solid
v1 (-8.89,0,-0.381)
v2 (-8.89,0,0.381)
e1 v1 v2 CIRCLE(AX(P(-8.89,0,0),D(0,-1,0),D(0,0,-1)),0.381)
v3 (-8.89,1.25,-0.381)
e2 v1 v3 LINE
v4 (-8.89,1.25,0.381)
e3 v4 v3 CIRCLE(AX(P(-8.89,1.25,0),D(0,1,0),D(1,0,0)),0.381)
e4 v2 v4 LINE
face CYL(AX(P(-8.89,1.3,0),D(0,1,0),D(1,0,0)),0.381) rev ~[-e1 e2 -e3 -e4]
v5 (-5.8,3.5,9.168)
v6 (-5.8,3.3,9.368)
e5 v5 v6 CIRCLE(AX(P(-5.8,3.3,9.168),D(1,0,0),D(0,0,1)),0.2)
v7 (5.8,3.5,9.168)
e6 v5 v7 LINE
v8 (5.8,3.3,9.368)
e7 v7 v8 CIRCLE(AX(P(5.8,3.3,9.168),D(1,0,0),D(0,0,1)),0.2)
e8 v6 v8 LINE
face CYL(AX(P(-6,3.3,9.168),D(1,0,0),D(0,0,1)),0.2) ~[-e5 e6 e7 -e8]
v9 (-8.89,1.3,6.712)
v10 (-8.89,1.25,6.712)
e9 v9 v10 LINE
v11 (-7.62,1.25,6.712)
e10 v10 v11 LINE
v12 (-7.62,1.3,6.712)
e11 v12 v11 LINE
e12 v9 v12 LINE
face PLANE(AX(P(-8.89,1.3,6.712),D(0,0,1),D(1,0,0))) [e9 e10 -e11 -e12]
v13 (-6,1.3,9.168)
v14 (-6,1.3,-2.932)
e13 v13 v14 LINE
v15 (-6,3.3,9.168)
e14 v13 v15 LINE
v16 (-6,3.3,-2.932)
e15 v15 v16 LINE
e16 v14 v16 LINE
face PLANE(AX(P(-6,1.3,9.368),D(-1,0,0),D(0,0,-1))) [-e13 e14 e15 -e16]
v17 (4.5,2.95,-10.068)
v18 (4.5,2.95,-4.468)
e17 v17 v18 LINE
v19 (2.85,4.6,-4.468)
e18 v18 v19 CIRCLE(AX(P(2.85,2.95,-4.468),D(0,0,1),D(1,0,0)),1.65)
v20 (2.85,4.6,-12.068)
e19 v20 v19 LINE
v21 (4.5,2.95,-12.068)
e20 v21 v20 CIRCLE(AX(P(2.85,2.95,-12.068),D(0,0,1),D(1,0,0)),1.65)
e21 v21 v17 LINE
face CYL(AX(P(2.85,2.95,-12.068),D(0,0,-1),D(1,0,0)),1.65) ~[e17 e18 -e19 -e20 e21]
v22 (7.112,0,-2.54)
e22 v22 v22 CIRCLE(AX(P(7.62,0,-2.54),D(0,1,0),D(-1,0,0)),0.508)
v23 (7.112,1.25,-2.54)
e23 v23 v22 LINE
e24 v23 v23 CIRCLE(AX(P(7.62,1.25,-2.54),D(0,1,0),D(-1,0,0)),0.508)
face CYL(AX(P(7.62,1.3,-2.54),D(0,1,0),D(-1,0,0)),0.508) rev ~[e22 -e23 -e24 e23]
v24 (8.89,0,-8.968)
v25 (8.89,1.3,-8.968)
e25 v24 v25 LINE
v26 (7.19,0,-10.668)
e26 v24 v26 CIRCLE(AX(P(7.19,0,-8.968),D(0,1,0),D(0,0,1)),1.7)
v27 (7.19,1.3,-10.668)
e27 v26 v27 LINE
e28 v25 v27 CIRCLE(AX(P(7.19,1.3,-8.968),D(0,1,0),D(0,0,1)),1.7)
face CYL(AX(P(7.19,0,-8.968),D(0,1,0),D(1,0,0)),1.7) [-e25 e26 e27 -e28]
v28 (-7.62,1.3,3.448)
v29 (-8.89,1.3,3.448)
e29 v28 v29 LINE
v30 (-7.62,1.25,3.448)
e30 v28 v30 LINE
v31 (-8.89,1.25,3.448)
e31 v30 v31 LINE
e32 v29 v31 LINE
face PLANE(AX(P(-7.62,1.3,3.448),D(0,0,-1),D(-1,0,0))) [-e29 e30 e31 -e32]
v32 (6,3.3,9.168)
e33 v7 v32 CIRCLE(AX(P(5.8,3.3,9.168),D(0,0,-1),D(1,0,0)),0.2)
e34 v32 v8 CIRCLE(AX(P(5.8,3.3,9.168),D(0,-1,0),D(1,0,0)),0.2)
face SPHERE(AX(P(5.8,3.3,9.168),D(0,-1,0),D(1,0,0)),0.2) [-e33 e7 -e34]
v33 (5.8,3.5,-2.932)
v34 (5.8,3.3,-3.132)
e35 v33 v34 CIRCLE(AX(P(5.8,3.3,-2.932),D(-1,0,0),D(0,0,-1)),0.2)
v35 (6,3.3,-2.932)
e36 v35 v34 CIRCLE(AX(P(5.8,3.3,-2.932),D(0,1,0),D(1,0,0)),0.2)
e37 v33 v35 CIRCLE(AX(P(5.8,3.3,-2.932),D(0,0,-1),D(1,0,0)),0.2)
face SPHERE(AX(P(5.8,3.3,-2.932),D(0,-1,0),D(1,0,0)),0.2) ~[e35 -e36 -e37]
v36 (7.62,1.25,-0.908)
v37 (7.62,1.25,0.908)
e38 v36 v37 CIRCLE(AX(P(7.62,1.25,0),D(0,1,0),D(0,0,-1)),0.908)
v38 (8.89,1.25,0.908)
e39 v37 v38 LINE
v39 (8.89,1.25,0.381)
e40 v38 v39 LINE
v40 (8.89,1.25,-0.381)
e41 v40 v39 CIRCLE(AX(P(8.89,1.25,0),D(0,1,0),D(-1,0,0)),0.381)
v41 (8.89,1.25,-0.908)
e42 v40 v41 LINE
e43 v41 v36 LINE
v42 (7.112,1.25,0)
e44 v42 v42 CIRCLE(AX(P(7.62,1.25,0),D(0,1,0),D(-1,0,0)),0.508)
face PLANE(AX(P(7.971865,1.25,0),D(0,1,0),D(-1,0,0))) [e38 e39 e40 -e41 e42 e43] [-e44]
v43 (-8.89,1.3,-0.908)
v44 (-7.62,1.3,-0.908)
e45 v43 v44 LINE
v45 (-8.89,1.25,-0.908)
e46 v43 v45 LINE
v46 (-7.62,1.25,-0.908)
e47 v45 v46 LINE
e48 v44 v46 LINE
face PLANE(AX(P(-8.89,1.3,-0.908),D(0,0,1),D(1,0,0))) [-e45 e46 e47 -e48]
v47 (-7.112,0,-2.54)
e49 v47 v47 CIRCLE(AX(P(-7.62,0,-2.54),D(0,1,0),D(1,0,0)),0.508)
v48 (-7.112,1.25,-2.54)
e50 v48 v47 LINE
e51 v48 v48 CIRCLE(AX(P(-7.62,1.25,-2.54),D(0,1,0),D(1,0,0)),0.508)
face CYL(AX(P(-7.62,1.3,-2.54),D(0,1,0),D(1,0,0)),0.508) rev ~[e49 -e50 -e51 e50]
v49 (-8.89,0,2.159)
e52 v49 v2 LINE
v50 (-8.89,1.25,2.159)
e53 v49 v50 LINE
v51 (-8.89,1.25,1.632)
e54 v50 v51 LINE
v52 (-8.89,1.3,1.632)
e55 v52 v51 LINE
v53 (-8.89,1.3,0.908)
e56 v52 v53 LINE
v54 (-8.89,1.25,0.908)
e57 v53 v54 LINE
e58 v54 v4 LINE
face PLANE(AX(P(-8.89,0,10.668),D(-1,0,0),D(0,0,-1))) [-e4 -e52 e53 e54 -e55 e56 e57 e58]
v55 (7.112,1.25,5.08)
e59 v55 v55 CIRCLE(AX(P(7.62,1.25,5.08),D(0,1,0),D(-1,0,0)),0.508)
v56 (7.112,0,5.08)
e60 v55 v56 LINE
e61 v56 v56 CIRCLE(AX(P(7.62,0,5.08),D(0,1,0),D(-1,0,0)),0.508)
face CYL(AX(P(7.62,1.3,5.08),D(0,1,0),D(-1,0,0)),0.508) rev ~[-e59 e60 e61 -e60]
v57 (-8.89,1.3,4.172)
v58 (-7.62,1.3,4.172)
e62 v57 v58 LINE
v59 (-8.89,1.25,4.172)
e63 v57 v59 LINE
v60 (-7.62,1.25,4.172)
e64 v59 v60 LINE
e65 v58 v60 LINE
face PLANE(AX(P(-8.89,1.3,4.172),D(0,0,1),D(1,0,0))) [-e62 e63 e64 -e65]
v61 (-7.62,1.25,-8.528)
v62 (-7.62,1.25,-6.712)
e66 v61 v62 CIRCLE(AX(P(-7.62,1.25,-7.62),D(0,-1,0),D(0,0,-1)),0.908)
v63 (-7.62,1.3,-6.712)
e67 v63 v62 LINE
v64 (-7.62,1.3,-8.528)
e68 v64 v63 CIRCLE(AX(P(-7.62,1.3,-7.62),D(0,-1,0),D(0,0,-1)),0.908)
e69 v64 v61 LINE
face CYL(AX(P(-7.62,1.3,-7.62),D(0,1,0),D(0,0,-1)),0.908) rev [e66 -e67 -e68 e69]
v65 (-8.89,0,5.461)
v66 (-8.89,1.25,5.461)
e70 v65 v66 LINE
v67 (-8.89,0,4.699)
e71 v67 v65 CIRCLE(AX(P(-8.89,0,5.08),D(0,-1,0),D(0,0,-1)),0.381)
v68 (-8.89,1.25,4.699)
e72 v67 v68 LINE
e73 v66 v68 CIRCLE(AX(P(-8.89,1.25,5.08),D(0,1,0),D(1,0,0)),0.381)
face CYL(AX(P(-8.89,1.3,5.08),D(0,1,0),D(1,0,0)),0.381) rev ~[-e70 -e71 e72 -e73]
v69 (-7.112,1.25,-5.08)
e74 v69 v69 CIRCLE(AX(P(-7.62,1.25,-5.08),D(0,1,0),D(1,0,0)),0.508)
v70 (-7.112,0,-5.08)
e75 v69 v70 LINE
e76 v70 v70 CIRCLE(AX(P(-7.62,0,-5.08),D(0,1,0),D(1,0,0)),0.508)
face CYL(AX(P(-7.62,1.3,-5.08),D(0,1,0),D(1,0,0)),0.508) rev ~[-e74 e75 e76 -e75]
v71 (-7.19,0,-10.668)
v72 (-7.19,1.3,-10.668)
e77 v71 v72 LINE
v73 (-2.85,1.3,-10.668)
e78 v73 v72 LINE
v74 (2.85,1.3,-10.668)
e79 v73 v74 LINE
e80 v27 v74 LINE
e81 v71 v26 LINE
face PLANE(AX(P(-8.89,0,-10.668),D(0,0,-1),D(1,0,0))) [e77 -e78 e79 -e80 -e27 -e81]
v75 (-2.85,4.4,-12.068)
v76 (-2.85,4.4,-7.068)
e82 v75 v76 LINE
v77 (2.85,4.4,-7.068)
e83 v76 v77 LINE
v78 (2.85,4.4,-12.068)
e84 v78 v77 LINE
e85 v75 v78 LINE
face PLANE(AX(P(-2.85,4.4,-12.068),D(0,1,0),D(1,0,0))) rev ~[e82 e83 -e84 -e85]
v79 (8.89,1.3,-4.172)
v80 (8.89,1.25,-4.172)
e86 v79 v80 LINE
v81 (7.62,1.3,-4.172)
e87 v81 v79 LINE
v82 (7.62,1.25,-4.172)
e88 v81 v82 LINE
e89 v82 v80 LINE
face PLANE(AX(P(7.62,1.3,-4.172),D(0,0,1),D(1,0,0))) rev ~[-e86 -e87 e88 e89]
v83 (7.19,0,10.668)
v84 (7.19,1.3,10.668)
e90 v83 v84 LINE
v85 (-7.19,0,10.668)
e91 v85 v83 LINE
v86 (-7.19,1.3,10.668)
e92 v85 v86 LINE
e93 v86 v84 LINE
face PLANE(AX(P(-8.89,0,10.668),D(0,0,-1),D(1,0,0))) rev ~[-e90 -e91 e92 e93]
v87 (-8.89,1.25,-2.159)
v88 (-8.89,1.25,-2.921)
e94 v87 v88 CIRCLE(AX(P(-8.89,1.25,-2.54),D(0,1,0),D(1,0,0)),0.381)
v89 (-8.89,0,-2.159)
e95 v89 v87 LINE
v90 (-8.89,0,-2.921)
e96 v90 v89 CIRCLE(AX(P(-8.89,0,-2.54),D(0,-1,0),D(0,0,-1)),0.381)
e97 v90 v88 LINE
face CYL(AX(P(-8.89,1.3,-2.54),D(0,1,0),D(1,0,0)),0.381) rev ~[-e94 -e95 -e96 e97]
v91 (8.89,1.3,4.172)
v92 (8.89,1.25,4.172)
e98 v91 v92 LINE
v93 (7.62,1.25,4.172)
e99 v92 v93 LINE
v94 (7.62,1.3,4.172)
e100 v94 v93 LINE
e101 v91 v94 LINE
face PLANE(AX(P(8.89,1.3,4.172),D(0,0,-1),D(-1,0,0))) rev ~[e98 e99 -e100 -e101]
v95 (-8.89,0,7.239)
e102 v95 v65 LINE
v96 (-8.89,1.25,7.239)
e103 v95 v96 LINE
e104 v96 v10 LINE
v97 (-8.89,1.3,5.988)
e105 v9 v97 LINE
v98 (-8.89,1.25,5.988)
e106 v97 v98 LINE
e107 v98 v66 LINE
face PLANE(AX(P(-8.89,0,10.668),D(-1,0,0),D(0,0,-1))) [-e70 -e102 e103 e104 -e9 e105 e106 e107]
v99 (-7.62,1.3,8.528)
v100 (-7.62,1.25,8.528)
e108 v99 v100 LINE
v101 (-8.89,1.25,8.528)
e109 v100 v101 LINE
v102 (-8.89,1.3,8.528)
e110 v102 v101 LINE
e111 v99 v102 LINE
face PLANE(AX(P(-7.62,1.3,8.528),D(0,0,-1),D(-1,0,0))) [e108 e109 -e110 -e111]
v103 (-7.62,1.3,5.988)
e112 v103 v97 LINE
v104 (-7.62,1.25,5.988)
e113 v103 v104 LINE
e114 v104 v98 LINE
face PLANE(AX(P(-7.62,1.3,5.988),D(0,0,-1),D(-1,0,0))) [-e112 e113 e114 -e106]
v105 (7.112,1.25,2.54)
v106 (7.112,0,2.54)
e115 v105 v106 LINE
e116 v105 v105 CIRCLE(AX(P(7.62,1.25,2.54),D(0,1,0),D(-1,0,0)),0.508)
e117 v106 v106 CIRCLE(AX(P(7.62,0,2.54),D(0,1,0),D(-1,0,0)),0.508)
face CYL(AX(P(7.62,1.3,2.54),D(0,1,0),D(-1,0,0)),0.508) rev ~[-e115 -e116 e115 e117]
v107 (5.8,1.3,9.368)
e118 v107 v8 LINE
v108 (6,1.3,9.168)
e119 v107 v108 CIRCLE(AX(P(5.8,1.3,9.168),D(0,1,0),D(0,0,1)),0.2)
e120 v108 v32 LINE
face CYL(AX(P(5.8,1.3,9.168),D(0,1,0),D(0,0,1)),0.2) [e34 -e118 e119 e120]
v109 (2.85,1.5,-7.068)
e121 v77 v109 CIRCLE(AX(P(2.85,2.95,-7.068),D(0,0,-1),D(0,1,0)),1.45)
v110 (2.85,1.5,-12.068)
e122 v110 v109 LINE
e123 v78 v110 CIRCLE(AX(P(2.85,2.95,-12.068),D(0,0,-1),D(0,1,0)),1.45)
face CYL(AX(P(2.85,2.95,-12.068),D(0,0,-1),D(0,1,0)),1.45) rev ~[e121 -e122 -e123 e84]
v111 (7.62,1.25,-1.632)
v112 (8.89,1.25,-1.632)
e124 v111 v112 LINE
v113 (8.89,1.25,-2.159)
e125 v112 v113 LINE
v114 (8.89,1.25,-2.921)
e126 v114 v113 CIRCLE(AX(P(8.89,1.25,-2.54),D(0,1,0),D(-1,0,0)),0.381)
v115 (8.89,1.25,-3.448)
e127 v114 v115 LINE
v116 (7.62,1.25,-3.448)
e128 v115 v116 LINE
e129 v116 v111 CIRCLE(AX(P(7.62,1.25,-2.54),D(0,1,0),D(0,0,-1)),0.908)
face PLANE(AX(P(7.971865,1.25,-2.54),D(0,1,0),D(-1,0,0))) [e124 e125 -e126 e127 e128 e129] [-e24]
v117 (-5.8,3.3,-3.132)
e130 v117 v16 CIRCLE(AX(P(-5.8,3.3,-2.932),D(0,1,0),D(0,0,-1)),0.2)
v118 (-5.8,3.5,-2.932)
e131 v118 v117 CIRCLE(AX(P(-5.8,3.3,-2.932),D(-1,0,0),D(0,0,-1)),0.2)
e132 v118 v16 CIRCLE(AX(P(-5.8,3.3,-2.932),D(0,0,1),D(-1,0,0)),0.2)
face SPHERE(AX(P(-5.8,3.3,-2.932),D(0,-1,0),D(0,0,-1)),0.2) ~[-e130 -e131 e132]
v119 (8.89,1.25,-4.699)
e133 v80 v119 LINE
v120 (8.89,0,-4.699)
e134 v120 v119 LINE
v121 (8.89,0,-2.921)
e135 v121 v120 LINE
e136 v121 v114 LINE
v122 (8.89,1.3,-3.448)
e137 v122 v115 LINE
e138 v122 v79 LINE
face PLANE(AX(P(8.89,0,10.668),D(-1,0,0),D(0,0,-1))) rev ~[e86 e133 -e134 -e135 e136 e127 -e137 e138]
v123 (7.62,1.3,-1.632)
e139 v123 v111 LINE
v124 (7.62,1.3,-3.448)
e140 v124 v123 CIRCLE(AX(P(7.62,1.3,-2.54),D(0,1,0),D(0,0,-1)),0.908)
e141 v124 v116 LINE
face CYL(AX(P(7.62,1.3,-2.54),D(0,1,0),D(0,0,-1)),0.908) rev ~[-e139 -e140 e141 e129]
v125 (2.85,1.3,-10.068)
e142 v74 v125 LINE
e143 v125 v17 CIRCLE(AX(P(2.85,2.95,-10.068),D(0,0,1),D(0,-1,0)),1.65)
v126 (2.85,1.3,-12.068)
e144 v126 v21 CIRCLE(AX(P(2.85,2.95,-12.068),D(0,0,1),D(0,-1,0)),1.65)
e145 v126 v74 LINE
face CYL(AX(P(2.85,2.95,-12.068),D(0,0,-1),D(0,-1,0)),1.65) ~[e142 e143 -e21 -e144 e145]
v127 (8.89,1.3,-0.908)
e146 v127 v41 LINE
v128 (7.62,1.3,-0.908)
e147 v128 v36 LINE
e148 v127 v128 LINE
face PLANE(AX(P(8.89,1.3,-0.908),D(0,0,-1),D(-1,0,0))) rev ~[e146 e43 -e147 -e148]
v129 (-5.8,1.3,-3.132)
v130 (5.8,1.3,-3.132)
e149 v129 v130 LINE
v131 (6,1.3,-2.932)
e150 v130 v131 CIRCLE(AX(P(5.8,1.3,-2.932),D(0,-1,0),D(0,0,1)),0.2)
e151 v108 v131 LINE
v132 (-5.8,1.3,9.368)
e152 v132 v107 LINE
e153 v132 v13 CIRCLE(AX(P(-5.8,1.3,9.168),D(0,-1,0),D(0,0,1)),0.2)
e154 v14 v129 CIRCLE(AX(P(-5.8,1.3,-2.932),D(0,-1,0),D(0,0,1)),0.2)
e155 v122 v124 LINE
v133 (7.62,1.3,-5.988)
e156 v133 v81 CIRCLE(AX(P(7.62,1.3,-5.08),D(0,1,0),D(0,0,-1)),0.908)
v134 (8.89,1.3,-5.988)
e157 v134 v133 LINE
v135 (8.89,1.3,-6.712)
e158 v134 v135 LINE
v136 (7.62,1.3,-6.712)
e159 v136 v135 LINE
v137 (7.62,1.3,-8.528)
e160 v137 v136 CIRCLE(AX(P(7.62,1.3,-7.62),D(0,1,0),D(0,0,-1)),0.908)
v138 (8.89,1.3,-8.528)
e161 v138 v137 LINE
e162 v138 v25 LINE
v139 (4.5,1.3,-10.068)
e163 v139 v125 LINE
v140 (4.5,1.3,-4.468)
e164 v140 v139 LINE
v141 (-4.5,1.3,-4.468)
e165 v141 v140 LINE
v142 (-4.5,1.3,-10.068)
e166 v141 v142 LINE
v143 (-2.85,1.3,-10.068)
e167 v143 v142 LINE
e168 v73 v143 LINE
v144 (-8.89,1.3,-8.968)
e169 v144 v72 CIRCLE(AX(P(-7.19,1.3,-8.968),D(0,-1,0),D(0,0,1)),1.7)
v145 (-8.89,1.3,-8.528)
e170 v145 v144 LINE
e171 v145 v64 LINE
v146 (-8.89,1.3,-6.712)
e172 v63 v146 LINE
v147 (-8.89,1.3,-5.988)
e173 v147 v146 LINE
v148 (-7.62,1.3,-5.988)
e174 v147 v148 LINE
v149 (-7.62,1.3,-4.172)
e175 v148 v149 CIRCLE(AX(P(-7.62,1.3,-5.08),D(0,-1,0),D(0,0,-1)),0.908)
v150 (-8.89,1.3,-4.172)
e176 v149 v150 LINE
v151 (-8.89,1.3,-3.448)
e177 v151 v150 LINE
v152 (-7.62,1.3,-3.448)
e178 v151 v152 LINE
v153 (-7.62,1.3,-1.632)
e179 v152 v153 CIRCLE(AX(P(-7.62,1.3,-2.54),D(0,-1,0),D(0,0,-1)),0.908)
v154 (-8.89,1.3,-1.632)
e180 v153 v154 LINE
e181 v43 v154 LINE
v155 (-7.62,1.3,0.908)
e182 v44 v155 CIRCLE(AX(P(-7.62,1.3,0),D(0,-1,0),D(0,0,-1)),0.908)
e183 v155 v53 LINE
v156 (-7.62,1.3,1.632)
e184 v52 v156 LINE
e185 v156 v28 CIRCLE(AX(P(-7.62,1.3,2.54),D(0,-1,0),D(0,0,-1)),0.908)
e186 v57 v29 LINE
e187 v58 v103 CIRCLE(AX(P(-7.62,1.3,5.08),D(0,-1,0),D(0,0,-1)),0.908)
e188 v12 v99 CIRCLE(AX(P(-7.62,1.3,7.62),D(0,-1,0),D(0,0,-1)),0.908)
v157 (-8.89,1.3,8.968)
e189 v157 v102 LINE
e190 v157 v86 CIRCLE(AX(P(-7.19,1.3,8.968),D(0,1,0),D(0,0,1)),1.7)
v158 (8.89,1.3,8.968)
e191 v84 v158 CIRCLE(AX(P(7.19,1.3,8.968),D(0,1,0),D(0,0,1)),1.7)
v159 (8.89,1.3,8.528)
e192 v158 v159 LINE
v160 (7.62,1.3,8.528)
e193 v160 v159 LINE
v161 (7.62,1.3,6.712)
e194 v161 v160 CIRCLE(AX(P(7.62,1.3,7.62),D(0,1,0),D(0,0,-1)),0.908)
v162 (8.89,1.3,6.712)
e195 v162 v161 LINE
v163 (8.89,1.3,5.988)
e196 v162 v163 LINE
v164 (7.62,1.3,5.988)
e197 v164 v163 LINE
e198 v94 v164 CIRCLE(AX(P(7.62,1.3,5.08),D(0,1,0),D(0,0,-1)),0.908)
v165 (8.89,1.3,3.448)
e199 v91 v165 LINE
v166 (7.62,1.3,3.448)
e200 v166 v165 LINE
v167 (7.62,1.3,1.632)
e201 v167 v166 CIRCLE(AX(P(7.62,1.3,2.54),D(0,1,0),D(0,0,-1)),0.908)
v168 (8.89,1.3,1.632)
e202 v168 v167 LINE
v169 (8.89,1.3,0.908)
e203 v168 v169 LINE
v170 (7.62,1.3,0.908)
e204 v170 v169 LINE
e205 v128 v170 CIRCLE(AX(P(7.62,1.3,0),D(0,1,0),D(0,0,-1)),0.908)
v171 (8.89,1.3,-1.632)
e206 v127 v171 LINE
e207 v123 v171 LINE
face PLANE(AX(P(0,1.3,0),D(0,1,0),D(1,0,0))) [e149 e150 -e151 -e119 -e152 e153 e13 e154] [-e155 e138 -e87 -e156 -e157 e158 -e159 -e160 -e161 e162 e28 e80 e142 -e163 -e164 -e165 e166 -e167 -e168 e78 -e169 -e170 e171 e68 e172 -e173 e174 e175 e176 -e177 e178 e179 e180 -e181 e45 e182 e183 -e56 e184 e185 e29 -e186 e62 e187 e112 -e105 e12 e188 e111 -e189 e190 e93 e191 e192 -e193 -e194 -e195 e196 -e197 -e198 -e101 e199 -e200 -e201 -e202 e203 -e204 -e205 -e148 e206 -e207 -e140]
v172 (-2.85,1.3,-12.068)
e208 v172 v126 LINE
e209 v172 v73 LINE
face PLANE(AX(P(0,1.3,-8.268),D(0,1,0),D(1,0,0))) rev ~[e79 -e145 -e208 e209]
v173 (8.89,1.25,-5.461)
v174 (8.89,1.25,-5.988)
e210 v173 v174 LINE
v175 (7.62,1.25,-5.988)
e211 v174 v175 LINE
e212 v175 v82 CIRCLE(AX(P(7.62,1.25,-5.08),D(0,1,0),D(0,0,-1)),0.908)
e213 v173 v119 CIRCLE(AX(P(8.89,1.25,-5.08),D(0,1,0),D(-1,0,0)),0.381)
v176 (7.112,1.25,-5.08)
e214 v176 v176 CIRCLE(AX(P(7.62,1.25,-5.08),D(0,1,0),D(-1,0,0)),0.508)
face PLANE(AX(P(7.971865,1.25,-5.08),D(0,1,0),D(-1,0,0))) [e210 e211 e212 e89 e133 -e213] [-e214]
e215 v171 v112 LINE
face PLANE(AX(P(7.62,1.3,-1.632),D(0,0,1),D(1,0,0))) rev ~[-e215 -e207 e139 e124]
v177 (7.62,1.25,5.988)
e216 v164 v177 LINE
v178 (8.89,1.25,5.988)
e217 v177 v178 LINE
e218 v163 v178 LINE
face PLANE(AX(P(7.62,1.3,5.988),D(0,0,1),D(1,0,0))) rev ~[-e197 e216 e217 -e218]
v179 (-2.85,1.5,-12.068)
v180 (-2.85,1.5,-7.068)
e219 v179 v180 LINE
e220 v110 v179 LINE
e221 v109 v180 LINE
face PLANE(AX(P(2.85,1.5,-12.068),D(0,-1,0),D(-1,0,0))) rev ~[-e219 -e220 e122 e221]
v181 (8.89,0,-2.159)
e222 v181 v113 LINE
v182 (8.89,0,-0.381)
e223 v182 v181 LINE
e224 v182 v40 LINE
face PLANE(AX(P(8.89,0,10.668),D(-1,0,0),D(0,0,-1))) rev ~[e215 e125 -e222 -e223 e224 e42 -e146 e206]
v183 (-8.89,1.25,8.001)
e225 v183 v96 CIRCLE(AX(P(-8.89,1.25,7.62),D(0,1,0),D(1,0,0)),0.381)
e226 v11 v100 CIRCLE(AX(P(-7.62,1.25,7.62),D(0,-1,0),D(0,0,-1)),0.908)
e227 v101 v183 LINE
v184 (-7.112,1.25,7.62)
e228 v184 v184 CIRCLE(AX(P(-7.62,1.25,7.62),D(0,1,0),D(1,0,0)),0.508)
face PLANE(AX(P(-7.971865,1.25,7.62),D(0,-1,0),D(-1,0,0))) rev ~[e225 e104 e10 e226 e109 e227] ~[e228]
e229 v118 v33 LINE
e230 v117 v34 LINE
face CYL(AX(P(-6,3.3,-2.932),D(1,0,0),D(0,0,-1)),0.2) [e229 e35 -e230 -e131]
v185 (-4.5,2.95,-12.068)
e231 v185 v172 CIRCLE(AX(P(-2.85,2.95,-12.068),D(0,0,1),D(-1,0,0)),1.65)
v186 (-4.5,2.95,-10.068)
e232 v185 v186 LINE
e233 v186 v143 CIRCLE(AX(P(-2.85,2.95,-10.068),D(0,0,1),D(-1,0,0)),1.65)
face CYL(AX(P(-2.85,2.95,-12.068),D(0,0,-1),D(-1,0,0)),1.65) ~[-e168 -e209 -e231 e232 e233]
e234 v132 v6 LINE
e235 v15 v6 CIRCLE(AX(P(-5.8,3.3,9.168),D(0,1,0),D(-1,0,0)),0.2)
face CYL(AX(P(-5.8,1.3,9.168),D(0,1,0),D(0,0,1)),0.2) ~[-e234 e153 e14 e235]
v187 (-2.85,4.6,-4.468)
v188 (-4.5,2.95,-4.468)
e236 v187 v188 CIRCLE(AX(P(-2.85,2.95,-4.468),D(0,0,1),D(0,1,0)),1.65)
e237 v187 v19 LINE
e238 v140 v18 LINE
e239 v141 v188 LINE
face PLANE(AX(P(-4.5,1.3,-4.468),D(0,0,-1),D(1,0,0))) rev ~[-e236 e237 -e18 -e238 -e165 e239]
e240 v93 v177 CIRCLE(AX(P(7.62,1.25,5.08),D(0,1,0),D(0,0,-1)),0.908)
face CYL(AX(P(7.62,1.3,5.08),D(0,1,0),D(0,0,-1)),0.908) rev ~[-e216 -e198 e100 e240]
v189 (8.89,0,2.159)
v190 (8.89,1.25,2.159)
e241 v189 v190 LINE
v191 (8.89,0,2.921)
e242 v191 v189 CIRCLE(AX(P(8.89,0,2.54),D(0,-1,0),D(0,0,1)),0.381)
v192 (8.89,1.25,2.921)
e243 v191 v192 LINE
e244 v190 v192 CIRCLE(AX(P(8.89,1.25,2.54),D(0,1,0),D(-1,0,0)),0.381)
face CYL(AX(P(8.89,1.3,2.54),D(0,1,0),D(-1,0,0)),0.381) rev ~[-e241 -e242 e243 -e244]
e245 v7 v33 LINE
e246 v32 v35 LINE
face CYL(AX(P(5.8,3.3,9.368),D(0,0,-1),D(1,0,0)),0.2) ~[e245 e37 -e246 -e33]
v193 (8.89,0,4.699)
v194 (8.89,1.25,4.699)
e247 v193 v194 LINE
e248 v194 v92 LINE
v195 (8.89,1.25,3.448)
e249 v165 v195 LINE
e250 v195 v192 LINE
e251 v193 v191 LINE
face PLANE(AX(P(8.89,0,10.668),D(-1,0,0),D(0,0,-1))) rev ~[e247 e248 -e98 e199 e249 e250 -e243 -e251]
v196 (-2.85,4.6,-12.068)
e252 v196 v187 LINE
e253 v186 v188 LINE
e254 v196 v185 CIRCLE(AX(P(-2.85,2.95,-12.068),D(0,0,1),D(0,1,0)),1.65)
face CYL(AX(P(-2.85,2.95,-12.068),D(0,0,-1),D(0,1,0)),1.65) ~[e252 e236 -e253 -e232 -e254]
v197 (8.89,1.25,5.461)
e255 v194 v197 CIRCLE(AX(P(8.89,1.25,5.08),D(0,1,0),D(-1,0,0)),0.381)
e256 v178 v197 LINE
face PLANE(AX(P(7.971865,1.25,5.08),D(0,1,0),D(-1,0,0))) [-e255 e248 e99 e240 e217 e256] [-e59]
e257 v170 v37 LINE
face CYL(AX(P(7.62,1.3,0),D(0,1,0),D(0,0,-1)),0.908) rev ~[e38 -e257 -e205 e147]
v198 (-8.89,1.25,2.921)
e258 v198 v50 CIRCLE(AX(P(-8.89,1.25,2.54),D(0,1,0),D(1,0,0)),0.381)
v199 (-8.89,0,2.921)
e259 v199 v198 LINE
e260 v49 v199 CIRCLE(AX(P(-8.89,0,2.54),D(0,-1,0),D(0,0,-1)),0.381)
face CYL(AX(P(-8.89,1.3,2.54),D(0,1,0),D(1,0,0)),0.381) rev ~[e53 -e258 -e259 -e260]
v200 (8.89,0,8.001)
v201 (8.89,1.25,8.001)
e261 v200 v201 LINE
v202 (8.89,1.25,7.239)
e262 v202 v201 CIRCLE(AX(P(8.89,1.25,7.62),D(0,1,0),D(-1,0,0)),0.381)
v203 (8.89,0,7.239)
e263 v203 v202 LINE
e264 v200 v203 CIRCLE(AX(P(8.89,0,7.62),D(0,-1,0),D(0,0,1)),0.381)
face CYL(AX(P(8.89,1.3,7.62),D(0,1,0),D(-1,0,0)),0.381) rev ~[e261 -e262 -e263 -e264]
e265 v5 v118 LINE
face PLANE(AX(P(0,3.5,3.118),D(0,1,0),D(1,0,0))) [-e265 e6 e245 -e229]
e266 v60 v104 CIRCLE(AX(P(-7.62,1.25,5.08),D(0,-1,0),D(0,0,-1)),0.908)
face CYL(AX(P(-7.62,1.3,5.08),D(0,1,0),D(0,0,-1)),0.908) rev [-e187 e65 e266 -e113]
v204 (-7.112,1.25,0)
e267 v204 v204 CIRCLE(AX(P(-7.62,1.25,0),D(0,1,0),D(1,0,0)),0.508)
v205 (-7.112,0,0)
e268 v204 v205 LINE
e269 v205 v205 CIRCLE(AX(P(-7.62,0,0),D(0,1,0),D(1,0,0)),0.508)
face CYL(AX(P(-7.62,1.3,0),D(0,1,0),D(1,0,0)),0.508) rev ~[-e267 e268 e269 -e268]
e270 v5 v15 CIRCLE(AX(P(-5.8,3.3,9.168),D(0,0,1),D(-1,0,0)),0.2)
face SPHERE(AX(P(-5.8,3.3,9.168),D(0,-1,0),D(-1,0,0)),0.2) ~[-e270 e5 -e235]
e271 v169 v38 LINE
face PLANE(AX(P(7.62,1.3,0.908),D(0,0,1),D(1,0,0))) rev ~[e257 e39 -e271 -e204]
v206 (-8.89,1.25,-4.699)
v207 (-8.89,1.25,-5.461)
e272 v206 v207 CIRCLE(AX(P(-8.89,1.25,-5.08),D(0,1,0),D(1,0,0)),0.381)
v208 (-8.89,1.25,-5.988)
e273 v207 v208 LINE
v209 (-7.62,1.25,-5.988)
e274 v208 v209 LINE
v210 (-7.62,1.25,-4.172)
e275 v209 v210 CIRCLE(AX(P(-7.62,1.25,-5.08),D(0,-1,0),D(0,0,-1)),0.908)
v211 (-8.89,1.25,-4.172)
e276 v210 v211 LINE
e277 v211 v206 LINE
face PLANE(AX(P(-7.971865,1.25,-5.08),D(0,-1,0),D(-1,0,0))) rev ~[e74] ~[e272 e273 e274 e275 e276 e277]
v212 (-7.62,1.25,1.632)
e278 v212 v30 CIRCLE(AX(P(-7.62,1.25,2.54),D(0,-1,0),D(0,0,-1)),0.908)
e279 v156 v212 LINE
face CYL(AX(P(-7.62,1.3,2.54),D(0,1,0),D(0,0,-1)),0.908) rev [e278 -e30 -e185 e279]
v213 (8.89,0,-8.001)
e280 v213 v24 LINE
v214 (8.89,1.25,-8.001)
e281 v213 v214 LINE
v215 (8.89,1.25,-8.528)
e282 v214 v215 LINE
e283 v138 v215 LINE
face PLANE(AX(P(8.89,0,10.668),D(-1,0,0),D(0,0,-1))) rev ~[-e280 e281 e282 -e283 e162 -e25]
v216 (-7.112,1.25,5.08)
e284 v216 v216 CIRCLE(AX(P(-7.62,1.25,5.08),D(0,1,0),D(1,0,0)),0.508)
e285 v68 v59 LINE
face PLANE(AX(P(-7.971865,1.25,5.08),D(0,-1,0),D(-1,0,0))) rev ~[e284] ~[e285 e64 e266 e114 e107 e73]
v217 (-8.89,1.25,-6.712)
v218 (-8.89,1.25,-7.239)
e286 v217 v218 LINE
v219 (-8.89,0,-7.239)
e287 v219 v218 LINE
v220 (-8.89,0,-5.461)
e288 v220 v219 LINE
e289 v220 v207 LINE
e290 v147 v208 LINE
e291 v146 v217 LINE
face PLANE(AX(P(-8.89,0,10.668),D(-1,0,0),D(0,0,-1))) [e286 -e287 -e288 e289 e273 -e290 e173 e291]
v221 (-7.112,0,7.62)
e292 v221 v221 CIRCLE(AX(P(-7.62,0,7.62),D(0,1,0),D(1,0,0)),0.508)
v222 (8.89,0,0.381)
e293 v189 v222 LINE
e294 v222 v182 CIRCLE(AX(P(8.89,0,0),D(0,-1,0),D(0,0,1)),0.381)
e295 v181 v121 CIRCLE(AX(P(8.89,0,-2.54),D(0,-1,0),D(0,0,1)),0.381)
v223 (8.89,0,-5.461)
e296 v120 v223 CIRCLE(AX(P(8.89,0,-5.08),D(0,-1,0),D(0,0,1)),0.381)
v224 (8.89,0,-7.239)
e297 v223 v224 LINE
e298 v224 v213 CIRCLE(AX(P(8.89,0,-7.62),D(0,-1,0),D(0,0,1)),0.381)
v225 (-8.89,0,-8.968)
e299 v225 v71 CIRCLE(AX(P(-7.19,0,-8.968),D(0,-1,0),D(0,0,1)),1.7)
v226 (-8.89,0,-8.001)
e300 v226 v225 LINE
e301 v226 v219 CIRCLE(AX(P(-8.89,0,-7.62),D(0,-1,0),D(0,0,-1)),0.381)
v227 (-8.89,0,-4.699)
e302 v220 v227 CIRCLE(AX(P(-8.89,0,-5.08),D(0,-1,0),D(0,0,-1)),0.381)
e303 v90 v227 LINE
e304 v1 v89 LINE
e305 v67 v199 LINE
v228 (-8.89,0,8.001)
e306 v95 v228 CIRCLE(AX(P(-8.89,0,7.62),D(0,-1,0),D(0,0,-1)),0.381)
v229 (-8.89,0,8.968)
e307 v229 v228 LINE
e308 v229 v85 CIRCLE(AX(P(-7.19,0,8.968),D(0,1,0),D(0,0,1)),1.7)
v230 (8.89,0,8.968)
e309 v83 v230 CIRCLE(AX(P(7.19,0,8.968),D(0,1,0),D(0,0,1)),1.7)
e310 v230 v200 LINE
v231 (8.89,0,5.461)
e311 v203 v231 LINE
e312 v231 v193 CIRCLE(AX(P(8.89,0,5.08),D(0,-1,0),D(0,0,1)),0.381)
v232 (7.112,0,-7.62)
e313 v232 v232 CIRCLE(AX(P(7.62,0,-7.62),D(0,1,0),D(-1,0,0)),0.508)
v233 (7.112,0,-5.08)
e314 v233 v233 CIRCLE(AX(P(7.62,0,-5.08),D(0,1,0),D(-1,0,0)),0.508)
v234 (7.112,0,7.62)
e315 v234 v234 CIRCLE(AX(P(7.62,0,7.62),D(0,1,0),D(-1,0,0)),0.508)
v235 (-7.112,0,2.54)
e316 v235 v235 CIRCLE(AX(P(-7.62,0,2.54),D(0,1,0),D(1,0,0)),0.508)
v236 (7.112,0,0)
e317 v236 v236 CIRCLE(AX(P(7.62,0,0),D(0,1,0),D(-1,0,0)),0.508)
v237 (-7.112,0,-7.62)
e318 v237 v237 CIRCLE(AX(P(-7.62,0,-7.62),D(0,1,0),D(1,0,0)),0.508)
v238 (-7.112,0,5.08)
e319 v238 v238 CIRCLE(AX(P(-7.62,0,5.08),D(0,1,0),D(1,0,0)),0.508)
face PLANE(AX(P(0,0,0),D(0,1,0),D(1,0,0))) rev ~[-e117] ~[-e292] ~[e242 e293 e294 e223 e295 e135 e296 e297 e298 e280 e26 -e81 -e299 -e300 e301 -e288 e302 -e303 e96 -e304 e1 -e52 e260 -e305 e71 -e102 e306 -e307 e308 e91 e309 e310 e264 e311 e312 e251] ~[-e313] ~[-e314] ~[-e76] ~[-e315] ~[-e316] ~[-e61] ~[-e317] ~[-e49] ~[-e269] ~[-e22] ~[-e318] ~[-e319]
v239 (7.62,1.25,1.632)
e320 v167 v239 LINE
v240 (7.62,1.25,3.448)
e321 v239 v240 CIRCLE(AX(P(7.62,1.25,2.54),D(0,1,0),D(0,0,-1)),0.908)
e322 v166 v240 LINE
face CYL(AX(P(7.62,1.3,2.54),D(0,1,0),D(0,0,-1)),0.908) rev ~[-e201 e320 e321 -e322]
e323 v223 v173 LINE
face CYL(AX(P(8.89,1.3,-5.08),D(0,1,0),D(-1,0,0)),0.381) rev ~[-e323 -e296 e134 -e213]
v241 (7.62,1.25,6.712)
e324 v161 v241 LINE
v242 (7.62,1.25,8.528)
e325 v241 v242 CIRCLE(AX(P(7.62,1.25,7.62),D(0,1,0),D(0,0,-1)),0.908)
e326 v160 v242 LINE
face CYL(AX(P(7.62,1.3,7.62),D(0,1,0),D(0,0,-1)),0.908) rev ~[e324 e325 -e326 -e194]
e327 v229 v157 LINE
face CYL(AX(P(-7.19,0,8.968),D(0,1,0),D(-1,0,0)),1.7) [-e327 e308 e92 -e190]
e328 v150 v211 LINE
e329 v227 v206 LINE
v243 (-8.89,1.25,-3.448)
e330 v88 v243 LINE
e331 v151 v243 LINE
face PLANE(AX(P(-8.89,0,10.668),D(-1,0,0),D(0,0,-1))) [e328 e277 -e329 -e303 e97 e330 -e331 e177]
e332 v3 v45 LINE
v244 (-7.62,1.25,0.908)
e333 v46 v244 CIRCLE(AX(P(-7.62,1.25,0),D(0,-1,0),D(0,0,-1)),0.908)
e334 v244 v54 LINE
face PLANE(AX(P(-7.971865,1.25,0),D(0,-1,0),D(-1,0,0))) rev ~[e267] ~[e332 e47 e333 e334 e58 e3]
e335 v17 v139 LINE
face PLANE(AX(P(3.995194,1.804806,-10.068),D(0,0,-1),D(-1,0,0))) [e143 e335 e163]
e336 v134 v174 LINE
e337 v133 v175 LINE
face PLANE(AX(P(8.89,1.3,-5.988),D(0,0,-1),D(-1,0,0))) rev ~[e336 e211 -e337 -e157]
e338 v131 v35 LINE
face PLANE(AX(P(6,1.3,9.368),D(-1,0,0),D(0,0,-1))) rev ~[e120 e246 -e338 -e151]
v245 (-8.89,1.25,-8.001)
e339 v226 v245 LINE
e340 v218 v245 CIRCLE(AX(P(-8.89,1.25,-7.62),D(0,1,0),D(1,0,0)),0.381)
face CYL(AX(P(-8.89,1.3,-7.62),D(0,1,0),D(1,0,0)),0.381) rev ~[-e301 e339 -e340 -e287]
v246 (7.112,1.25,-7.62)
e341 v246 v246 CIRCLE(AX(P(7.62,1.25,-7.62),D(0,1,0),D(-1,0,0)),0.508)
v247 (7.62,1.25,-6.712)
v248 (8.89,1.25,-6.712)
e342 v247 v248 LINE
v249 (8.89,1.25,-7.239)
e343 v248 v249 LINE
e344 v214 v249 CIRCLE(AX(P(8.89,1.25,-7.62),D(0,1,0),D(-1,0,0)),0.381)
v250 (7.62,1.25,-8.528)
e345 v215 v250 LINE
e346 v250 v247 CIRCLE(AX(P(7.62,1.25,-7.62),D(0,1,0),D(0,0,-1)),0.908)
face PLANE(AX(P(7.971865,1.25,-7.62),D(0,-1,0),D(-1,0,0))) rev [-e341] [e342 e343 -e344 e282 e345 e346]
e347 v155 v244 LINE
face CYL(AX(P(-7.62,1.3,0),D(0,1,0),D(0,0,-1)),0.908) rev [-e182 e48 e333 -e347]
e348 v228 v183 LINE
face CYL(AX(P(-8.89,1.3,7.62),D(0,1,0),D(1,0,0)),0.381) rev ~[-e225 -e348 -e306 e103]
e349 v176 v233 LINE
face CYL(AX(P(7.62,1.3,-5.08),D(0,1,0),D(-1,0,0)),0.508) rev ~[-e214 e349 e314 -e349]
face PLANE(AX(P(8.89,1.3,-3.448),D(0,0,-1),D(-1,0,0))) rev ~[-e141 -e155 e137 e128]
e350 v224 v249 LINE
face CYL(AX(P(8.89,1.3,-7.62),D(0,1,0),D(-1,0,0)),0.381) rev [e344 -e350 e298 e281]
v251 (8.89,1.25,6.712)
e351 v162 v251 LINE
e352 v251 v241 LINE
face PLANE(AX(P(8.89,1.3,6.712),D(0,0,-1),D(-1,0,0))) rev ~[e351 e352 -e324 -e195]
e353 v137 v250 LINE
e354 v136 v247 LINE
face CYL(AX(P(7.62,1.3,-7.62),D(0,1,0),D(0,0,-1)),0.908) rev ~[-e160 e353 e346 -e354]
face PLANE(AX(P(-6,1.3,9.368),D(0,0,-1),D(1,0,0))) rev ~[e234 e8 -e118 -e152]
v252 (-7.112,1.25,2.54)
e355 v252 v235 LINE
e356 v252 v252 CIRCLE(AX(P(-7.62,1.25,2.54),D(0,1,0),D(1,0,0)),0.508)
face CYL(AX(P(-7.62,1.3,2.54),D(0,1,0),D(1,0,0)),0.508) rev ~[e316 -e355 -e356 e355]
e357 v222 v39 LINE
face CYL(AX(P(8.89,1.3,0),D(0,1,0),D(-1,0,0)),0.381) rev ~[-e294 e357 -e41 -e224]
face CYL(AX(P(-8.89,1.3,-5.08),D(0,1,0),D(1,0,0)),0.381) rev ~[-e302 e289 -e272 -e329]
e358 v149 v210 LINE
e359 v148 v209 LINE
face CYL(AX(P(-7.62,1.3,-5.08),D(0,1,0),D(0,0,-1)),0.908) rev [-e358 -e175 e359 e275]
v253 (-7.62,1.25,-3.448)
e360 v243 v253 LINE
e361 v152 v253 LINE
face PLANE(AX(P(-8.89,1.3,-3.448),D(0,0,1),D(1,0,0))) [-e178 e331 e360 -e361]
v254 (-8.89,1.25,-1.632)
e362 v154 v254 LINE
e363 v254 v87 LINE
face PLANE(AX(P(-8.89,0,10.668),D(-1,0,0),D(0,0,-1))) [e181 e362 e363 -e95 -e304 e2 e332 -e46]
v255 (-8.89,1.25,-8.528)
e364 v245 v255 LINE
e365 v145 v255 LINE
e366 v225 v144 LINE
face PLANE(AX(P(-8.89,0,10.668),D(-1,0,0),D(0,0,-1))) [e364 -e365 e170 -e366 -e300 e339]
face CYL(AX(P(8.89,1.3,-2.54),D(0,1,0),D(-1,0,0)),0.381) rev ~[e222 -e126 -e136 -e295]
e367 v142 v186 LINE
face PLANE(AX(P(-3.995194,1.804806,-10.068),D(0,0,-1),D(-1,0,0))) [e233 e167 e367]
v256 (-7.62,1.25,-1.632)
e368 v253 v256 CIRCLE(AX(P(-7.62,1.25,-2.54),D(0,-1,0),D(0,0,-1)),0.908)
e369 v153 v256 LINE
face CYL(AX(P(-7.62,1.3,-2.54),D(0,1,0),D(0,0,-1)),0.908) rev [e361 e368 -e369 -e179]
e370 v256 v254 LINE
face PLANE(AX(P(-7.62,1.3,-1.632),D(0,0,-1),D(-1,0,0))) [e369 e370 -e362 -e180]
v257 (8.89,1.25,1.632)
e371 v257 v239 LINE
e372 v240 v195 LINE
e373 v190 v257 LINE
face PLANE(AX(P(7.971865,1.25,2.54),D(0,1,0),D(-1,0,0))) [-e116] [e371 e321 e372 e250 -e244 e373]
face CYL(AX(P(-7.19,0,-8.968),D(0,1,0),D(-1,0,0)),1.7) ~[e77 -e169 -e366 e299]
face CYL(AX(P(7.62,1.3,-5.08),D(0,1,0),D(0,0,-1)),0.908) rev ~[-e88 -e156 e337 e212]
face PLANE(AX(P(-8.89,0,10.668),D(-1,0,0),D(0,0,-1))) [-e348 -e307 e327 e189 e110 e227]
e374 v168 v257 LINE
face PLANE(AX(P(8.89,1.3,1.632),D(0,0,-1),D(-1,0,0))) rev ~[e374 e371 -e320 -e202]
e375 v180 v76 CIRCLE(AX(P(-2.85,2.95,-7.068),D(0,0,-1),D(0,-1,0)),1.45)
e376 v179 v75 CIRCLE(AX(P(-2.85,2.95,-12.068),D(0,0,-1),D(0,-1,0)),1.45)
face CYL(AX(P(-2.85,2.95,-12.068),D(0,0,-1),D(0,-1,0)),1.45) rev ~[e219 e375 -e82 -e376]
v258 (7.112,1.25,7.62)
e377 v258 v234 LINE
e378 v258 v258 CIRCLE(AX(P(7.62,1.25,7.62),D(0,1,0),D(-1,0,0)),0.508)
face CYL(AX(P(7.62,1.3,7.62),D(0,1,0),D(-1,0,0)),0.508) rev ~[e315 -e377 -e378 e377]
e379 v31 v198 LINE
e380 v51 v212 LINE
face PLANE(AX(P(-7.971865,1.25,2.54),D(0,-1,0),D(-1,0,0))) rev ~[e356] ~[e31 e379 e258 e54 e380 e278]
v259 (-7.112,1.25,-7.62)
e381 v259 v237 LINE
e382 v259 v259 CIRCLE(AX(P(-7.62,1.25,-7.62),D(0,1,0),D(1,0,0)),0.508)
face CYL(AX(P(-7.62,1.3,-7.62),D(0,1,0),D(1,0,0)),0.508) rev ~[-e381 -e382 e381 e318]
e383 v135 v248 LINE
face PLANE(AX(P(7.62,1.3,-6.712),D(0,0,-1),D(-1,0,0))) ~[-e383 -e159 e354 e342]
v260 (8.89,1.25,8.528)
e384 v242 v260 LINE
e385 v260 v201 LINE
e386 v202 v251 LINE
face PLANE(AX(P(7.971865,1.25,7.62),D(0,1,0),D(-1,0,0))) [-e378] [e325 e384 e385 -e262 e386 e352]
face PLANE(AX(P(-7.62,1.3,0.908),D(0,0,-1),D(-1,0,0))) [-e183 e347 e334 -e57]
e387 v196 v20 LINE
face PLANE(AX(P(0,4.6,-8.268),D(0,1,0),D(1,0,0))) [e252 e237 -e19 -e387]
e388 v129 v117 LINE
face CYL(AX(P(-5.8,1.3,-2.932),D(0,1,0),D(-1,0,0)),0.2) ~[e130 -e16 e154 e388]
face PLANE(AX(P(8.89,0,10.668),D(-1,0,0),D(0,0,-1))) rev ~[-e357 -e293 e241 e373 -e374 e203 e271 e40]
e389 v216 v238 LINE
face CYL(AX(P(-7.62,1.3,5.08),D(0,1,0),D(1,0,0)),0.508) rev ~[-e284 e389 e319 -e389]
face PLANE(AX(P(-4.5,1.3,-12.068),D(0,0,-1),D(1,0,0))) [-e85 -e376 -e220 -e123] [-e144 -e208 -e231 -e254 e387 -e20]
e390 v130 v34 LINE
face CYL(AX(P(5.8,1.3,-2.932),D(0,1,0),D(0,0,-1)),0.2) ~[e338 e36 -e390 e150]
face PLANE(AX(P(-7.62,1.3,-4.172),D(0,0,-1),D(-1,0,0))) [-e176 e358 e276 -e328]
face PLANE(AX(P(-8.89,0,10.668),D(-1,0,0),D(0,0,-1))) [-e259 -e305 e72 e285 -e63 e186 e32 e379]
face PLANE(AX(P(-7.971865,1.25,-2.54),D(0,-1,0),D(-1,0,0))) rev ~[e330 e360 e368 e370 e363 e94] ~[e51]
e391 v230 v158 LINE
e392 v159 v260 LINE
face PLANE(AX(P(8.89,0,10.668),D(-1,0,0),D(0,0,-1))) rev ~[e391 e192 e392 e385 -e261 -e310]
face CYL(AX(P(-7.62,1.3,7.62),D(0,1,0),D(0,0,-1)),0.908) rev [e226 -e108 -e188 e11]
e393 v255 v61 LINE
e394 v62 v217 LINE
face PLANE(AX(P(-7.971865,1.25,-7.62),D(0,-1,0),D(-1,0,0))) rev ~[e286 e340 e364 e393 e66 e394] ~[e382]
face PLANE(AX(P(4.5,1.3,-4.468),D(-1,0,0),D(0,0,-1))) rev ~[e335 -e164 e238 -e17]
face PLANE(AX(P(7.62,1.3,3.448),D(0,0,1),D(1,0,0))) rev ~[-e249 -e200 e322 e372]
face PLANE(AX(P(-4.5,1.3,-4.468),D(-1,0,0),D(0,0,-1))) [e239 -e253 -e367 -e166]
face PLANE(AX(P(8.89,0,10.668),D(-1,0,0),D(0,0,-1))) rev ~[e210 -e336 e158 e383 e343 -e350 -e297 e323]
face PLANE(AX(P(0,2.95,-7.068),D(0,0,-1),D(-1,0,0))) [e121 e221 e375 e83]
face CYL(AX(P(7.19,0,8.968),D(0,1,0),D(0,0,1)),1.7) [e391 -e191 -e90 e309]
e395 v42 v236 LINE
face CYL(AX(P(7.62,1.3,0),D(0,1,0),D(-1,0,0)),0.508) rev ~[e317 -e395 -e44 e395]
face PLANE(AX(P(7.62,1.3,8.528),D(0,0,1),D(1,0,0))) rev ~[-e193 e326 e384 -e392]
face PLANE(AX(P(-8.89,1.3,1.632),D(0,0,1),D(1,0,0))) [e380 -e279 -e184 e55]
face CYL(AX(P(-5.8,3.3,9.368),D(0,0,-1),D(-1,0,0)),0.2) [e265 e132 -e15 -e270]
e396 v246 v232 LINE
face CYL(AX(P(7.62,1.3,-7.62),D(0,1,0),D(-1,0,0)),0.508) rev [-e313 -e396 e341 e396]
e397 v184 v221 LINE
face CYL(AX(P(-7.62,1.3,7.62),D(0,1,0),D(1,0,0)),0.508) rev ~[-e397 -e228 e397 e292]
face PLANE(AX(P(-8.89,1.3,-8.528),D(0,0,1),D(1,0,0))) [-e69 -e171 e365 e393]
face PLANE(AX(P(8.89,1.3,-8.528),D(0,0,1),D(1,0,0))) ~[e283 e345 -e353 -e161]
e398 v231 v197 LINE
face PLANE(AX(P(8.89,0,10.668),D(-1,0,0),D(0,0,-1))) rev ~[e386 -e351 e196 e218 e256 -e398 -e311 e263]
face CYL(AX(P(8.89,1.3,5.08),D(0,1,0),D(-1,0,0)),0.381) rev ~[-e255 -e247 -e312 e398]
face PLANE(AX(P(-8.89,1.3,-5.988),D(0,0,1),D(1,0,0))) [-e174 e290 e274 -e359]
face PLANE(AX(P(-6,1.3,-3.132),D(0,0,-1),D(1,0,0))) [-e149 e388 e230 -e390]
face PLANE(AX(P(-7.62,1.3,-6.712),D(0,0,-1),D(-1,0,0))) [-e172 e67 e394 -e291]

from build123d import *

# Parameters (mm, degrees)
SKETCH1_W                 = 17.78
SKETCH1_H                 = 21.336
BOSS_EXTRUDE1_DEPTH       = 1.3
SKETCH2_W                 = 12
SKETCH2_H                 = 12.5
BOSS_EXTRUDE2_DEPTH       = 2.2
SKETCH4_W                 = 9
SKETCH4_H                 = 7.6
BOSS_EXTRUDE3_DEPTH       = 3.3
CUT_EXTRUDE1_DEPTH        = 2
CUT_EXTRUDE2_DEPTH        = 7.6
FILLET1_R                 = 0.2
FILLET2_R                 = 1.7
SKETCH6_R                 = 0.508
SKETCH6_R_2               = 0.381
CUT_EXTRUDE3_DEPTH        = 2.3
CUT_EXTRUDE4_DEPTH        = 0.05
LPATTERN1_COUNT           = 7
LPATTERN1_PITCH           = 2.54
MIRROR1_COPY_1_SKETCH_R   = 0.508
MIRROR1_COPY_1_SKETCH_R_2 = 0.381
MIRROR1_COPY_1_DEPTH      = 2.3
MIRROR1_COPY_2_SKETCH_R   = 0.508
MIRROR1_COPY_2_SKETCH_R_2 = 0.381
MIRROR1_COPY_2_DEPTH      = 2.3
MIRROR1_COPY_3_SKETCH_R   = 0.508
MIRROR1_COPY_3_SKETCH_R_2 = 0.381
MIRROR1_COPY_3_DEPTH      = 2.3
MIRROR1_COPY_4_SKETCH_R   = 0.508
MIRROR1_COPY_4_SKETCH_R_2 = 0.381
MIRROR1_COPY_4_DEPTH      = 2.3
MIRROR1_COPY_5_SKETCH_R   = 0.508
MIRROR1_COPY_5_SKETCH_R_2 = 0.381
MIRROR1_COPY_5_DEPTH      = 2.3
MIRROR1_COPY_6_SKETCH_R   = 0.508
MIRROR1_COPY_6_SKETCH_R_2 = 0.381
MIRROR1_COPY_6_DEPTH      = 2.3
MIRROR1_COPY_7_DEPTH      = 0.05
MIRROR1_COPY_8_DEPTH      = 0.05
MIRROR1_COPY_9_DEPTH      = 0.05
MIRROR1_COPY_10_DEPTH     = 0.05
MIRROR1_COPY_11_DEPTH     = 0.05
MIRROR1_COPY_12_DEPTH     = 0.05
CUT_EXTRUDE5_DEPTH        = 5


with BuildPart() as part:
    # Sketch1 → Boss-Extrude1 (new body)
    with BuildSketch(Plane(origin=(0, 0, 0), x_dir=(1, 0, 0), z_dir=(0, 1, 0))):
        Rectangle(SKETCH1_W, SKETCH1_H)
    extrude(amount=BOSS_EXTRUDE1_DEPTH)

    # Sketch2 → Boss-Extrude2 (add)
    with BuildSketch(Plane(origin=(0, 1.3, 0), x_dir=(1, 0, 0), z_dir=(0, 1, 0))):
        with Locations((0, -3.118)):
            Rectangle(SKETCH2_W, SKETCH2_H)
    extrude(amount=BOSS_EXTRUDE2_DEPTH)

    # Sketch4 → Boss-Extrude3 (add)
    with BuildSketch(Plane(origin=(0, 1.3, 0), x_dir=(1, 0, 0), z_dir=(0, 1, 0))):
        with Locations((0, 8.268)):
            Rectangle(SKETCH4_W, SKETCH4_H)
    extrude(amount=BOSS_EXTRUDE3_DEPTH)

    # Sketch5 → Cut-Extrude1 (cut)
    with BuildSketch(Plane(origin=(0, 0, -12.068), x_dir=(-1, 0, 0), z_dir=(0, 0, -1))):
        with BuildLine():
            ThreePointArc((-2.85, 1.3), (-4.016726189, 1.783273811), (-4.5, 2.95))
            Line((-4.5, 2.95), (-4.5, 1.3))
            Line((-4.5, 1.3), (-2.85, 1.3))
        make_face()
        with BuildLine():
            Line((4.5, 1.3), (4.5, 2.95))
            ThreePointArc((4.5, 2.95), (4.016726189, 1.783273811), (2.85, 1.3))
            Line((2.85, 1.3), (4.5, 1.3))
        make_face()
    extrude(amount=-CUT_EXTRUDE1_DEPTH, mode=Mode.SUBTRACT)

    # Sketch5<3> → Cut-Extrude2 (cut)
    with BuildSketch(Plane(origin=(0, 0, -12.068), x_dir=(-1, 0, 0), z_dir=(0, 0, -1))):
        with BuildLine():
            Line((4.5, 4.6), (2.85, 4.6))
            ThreePointArc((2.85, 4.6), (4.016726189, 4.116726189), (4.5, 2.95))
            Line((4.5, 2.95), (4.5, 4.6))
        make_face()
        with BuildLine():
            ThreePointArc((-4.5, 2.95), (-4.016726189, 4.116726189), (-2.85, 4.6))
            Line((-2.85, 4.6), (-4.5, 4.6))
            Line((-4.5, 4.6), (-4.5, 2.95))
        make_face()
    extrude(amount=-CUT_EXTRUDE2_DEPTH, mode=Mode.SUBTRACT)

    # Fillet1
    fillet1_edges = [part.edges().sort_by_distance(p)[0] for p in [
        (6, 2.4, 9.368),
        (6, 2.4, -3.132),
        (-6, 2.4, -3.132),
        (-6, 2.4, 9.368),
        (6, 3.5, 3.118),
        (0, 3.5, -3.132),
        (-6, 3.5, 3.118),
        (0, 3.5, 9.368),
    ]]
    fillet(fillet1_edges, radius=FILLET1_R)

    # Fillet2
    fillet2_edges = [part.edges().sort_by_distance(p)[0] for p in [
        (-8.89, 0.65, -10.668),
        (8.89, 0.65, -10.668),
        (8.89, 0.65, 10.668),
        (-8.89, 0.65, 10.668),
    ]]
    fillet(fillet2_edges, radius=FILLET2_R)

    # Sketch6 → Cut-Extrude3 (cut, through all)
    with BuildSketch(Plane(origin=(0, 1.3, 0), x_dir=(1, 0, 0), z_dir=(0, 1, 0))):
        with Locations((-7.62, 7.62)):
            Circle(SKETCH6_R)
        with Locations((-8.89, 7.62)):
            Circle(SKETCH6_R_2)
    cut_extrude3 = extrude(amount=-CUT_EXTRUDE3_DEPTH, mode=Mode.SUBTRACT)

    # Sketch7 → Cut-Extrude4 (cut)
    with BuildSketch(Plane(origin=(0, 1.3, 0), x_dir=(1, 0, 0), z_dir=(0, 1, 0))):
        with BuildLine():
            Line((-8.89, 8.528), (-7.62, 8.528))
            ThreePointArc((-7.62, 8.528), (-6.712, 7.62), (-7.62, 6.712))
            Line((-7.62, 6.712), (-8.89, 6.712))
            Line((-8.89, 6.712), (-8.89, 8.528))
        make_face()
    cut_extrude4 = extrude(amount=-CUT_EXTRUDE4_DEPTH, mode=Mode.SUBTRACT)

    # LPattern1: Cut-Extrude3, Cut-Extrude4 ×7
    with Locations(*[(0, 0, i * LPATTERN1_PITCH) for i in range(1, LPATTERN1_COUNT)]):
        add(cut_extrude3, mode=Mode.SUBTRACT)
        add(cut_extrude4, mode=Mode.SUBTRACT)

    # Mirror1: Cut-Extrude3, Cut-Extrude4 across plane
    add(cut_extrude3.mirror(Plane(origin=(0, 0, 0), x_dir=(0, 0, 1), z_dir=(1, 0, 0))), mode=Mode.SUBTRACT)
    add(cut_extrude4.mirror(Plane(origin=(0, 0, 0), x_dir=(0, 0, 1), z_dir=(1, 0, 0))), mode=Mode.SUBTRACT)

    # Mirror1 copy 1 sketch → Mirror1 copy 1 (cut, through all)
    with BuildSketch(Plane(origin=(0, 1.3, 2.54), x_dir=(-1, 0, 0), z_dir=(0, 1, 0))):
        with Locations((-7.62, -7.62)):
            Circle(MIRROR1_COPY_1_SKETCH_R)
        with Locations((-8.89, -7.62)):
            Circle(MIRROR1_COPY_1_SKETCH_R_2)
    extrude(amount=-MIRROR1_COPY_1_DEPTH, mode=Mode.SUBTRACT)

    # Mirror1 copy 2 sketch → Mirror1 copy 2 (cut, through all)
    with BuildSketch(Plane(origin=(0, 1.3, 5.08), x_dir=(-1, 0, 0), z_dir=(0, 1, 0))):
        with Locations((-7.62, -7.62)):
            Circle(MIRROR1_COPY_2_SKETCH_R)
        with Locations((-8.89, -7.62)):
            Circle(MIRROR1_COPY_2_SKETCH_R_2)
    extrude(amount=-MIRROR1_COPY_2_DEPTH, mode=Mode.SUBTRACT)

    # Mirror1 copy 3 sketch → Mirror1 copy 3 (cut, through all)
    with BuildSketch(Plane(origin=(0, 1.3, 7.62), x_dir=(-1, 0, 0), z_dir=(0, 1, 0))):
        with Locations((-7.62, -7.62)):
            Circle(MIRROR1_COPY_3_SKETCH_R)
        with Locations((-8.89, -7.62)):
            Circle(MIRROR1_COPY_3_SKETCH_R_2)
    extrude(amount=-MIRROR1_COPY_3_DEPTH, mode=Mode.SUBTRACT)

    # Mirror1 copy 4 sketch → Mirror1 copy 4 (cut, through all)
    with BuildSketch(Plane(origin=(0, 1.3, 10.16), x_dir=(-1, 0, 0), z_dir=(0, 1, 0))):
        with Locations((-7.62, -7.62)):
            Circle(MIRROR1_COPY_4_SKETCH_R)
        with Locations((-8.89, -7.62)):
            Circle(MIRROR1_COPY_4_SKETCH_R_2)
    extrude(amount=-MIRROR1_COPY_4_DEPTH, mode=Mode.SUBTRACT)

    # Mirror1 copy 5 sketch → Mirror1 copy 5 (cut, through all)
    with BuildSketch(Plane(origin=(0, 1.3, 12.7), x_dir=(-1, 0, 0), z_dir=(0, 1, 0))):
        with Locations((-7.62, -7.62)):
            Circle(MIRROR1_COPY_5_SKETCH_R)
        with Locations((-8.89, -7.62)):
            Circle(MIRROR1_COPY_5_SKETCH_R_2)
    extrude(amount=-MIRROR1_COPY_5_DEPTH, mode=Mode.SUBTRACT)

    # Mirror1 copy 6 sketch → Mirror1 copy 6 (cut, through all)
    with BuildSketch(Plane(origin=(0, 1.3, 15.24), x_dir=(-1, 0, 0), z_dir=(0, 1, 0))):
        with Locations((-7.62, -7.62)):
            Circle(MIRROR1_COPY_6_SKETCH_R)
        with Locations((-8.89, -7.62)):
            Circle(MIRROR1_COPY_6_SKETCH_R_2)
    extrude(amount=-MIRROR1_COPY_6_DEPTH, mode=Mode.SUBTRACT)

    # Mirror1 copy 7 sketch → Mirror1 copy 7 (cut)
    with BuildSketch(Plane(origin=(0, 1.3, 2.54), x_dir=(-1, 0, 0), z_dir=(0, 1, 0))):
        with BuildLine():
            Line((-8.89, -8.528), (-7.62, -8.528))
            ThreePointArc((-7.62, -8.528), (-6.712, -7.62), (-7.62, -6.712))
            Line((-7.62, -6.712), (-8.89, -6.712))
            Line((-8.89, -6.712), (-8.89, -8.528))
        make_face()
    extrude(amount=-MIRROR1_COPY_7_DEPTH, mode=Mode.SUBTRACT)

    # Mirror1 copy 8 sketch → Mirror1 copy 8 (cut)
    with BuildSketch(Plane(origin=(0, 1.3, 5.08), x_dir=(-1, 0, 0), z_dir=(0, 1, 0))):
        with BuildLine():
            Line((-8.89, -8.528), (-7.62, -8.528))
            ThreePointArc((-7.62, -8.528), (-6.712, -7.62), (-7.62, -6.712))
            Line((-7.62, -6.712), (-8.89, -6.712))
            Line((-8.89, -6.712), (-8.89, -8.528))
        make_face()
    extrude(amount=-MIRROR1_COPY_8_DEPTH, mode=Mode.SUBTRACT)

    # Mirror1 copy 9 sketch → Mirror1 copy 9 (cut)
    with BuildSketch(Plane(origin=(0, 1.3, 7.62), x_dir=(-1, 0, 0), z_dir=(0, 1, 0))):
        with BuildLine():
            Line((-8.89, -8.528), (-7.62, -8.528))
            ThreePointArc((-7.62, -8.528), (-6.712, -7.62), (-7.62, -6.712))
            Line((-7.62, -6.712), (-8.89, -6.712))
            Line((-8.89, -6.712), (-8.89, -8.528))
        make_face()
    extrude(amount=-MIRROR1_COPY_9_DEPTH, mode=Mode.SUBTRACT)

    # Mirror1 copy 10 sketch → Mirror1 copy 10 (cut)
    with BuildSketch(Plane(origin=(0, 1.3, 10.16), x_dir=(-1, 0, 0), z_dir=(0, 1, 0))):
        with BuildLine():
            Line((-8.89, -8.528), (-7.62, -8.528))
            ThreePointArc((-7.62, -8.528), (-6.712, -7.62), (-7.62, -6.712))
            Line((-7.62, -6.712), (-8.89, -6.712))
            Line((-8.89, -6.712), (-8.89, -8.528))
        make_face()
    extrude(amount=-MIRROR1_COPY_10_DEPTH, mode=Mode.SUBTRACT)

    # Mirror1 copy 11 sketch → Mirror1 copy 11 (cut)
    with BuildSketch(Plane(origin=(0, 1.3, 12.7), x_dir=(-1, 0, 0), z_dir=(0, 1, 0))):
        with BuildLine():
            Line((-8.89, -8.528), (-7.62, -8.528))
            ThreePointArc((-7.62, -8.528), (-6.712, -7.62), (-7.62, -6.712))
            Line((-7.62, -6.712), (-8.89, -6.712))
            Line((-8.89, -6.712), (-8.89, -8.528))
        make_face()
    extrude(amount=-MIRROR1_COPY_11_DEPTH, mode=Mode.SUBTRACT)

    # Mirror1 copy 12 sketch → Mirror1 copy 12 (cut)
    with BuildSketch(Plane(origin=(0, 1.3, 15.24), x_dir=(-1, 0, 0), z_dir=(0, 1, 0))):
        with BuildLine():
            Line((-8.89, -8.528), (-7.62, -8.528))
            ThreePointArc((-7.62, -8.528), (-6.712, -7.62), (-7.62, -6.712))
            Line((-7.62, -6.712), (-8.89, -6.712))
            Line((-8.89, -6.712), (-8.89, -8.528))
        make_face()
    extrude(amount=-MIRROR1_COPY_12_DEPTH, mode=Mode.SUBTRACT)

    # Sketch8 → Cut-Extrude5 (cut)
    with BuildSketch(Plane(origin=(0, 0, -12.068), x_dir=(-1, 0, 0), z_dir=(0, 0, -1))):
        with BuildLine():
            Line((2.85, 4.4), (-2.85, 4.4))
            ThreePointArc((-2.85, 4.4), (-4.3, 2.95), (-2.85, 1.5))
            Line((-2.85, 1.5), (2.85, 1.5))
            ThreePointArc((2.85, 1.5), (4.3, 2.95), (2.85, 4.4))
        make_face()
    extrude(amount=-CUT_EXTRUDE5_DEPTH, mode=Mode.SUBTRACT)


solid = part.part
